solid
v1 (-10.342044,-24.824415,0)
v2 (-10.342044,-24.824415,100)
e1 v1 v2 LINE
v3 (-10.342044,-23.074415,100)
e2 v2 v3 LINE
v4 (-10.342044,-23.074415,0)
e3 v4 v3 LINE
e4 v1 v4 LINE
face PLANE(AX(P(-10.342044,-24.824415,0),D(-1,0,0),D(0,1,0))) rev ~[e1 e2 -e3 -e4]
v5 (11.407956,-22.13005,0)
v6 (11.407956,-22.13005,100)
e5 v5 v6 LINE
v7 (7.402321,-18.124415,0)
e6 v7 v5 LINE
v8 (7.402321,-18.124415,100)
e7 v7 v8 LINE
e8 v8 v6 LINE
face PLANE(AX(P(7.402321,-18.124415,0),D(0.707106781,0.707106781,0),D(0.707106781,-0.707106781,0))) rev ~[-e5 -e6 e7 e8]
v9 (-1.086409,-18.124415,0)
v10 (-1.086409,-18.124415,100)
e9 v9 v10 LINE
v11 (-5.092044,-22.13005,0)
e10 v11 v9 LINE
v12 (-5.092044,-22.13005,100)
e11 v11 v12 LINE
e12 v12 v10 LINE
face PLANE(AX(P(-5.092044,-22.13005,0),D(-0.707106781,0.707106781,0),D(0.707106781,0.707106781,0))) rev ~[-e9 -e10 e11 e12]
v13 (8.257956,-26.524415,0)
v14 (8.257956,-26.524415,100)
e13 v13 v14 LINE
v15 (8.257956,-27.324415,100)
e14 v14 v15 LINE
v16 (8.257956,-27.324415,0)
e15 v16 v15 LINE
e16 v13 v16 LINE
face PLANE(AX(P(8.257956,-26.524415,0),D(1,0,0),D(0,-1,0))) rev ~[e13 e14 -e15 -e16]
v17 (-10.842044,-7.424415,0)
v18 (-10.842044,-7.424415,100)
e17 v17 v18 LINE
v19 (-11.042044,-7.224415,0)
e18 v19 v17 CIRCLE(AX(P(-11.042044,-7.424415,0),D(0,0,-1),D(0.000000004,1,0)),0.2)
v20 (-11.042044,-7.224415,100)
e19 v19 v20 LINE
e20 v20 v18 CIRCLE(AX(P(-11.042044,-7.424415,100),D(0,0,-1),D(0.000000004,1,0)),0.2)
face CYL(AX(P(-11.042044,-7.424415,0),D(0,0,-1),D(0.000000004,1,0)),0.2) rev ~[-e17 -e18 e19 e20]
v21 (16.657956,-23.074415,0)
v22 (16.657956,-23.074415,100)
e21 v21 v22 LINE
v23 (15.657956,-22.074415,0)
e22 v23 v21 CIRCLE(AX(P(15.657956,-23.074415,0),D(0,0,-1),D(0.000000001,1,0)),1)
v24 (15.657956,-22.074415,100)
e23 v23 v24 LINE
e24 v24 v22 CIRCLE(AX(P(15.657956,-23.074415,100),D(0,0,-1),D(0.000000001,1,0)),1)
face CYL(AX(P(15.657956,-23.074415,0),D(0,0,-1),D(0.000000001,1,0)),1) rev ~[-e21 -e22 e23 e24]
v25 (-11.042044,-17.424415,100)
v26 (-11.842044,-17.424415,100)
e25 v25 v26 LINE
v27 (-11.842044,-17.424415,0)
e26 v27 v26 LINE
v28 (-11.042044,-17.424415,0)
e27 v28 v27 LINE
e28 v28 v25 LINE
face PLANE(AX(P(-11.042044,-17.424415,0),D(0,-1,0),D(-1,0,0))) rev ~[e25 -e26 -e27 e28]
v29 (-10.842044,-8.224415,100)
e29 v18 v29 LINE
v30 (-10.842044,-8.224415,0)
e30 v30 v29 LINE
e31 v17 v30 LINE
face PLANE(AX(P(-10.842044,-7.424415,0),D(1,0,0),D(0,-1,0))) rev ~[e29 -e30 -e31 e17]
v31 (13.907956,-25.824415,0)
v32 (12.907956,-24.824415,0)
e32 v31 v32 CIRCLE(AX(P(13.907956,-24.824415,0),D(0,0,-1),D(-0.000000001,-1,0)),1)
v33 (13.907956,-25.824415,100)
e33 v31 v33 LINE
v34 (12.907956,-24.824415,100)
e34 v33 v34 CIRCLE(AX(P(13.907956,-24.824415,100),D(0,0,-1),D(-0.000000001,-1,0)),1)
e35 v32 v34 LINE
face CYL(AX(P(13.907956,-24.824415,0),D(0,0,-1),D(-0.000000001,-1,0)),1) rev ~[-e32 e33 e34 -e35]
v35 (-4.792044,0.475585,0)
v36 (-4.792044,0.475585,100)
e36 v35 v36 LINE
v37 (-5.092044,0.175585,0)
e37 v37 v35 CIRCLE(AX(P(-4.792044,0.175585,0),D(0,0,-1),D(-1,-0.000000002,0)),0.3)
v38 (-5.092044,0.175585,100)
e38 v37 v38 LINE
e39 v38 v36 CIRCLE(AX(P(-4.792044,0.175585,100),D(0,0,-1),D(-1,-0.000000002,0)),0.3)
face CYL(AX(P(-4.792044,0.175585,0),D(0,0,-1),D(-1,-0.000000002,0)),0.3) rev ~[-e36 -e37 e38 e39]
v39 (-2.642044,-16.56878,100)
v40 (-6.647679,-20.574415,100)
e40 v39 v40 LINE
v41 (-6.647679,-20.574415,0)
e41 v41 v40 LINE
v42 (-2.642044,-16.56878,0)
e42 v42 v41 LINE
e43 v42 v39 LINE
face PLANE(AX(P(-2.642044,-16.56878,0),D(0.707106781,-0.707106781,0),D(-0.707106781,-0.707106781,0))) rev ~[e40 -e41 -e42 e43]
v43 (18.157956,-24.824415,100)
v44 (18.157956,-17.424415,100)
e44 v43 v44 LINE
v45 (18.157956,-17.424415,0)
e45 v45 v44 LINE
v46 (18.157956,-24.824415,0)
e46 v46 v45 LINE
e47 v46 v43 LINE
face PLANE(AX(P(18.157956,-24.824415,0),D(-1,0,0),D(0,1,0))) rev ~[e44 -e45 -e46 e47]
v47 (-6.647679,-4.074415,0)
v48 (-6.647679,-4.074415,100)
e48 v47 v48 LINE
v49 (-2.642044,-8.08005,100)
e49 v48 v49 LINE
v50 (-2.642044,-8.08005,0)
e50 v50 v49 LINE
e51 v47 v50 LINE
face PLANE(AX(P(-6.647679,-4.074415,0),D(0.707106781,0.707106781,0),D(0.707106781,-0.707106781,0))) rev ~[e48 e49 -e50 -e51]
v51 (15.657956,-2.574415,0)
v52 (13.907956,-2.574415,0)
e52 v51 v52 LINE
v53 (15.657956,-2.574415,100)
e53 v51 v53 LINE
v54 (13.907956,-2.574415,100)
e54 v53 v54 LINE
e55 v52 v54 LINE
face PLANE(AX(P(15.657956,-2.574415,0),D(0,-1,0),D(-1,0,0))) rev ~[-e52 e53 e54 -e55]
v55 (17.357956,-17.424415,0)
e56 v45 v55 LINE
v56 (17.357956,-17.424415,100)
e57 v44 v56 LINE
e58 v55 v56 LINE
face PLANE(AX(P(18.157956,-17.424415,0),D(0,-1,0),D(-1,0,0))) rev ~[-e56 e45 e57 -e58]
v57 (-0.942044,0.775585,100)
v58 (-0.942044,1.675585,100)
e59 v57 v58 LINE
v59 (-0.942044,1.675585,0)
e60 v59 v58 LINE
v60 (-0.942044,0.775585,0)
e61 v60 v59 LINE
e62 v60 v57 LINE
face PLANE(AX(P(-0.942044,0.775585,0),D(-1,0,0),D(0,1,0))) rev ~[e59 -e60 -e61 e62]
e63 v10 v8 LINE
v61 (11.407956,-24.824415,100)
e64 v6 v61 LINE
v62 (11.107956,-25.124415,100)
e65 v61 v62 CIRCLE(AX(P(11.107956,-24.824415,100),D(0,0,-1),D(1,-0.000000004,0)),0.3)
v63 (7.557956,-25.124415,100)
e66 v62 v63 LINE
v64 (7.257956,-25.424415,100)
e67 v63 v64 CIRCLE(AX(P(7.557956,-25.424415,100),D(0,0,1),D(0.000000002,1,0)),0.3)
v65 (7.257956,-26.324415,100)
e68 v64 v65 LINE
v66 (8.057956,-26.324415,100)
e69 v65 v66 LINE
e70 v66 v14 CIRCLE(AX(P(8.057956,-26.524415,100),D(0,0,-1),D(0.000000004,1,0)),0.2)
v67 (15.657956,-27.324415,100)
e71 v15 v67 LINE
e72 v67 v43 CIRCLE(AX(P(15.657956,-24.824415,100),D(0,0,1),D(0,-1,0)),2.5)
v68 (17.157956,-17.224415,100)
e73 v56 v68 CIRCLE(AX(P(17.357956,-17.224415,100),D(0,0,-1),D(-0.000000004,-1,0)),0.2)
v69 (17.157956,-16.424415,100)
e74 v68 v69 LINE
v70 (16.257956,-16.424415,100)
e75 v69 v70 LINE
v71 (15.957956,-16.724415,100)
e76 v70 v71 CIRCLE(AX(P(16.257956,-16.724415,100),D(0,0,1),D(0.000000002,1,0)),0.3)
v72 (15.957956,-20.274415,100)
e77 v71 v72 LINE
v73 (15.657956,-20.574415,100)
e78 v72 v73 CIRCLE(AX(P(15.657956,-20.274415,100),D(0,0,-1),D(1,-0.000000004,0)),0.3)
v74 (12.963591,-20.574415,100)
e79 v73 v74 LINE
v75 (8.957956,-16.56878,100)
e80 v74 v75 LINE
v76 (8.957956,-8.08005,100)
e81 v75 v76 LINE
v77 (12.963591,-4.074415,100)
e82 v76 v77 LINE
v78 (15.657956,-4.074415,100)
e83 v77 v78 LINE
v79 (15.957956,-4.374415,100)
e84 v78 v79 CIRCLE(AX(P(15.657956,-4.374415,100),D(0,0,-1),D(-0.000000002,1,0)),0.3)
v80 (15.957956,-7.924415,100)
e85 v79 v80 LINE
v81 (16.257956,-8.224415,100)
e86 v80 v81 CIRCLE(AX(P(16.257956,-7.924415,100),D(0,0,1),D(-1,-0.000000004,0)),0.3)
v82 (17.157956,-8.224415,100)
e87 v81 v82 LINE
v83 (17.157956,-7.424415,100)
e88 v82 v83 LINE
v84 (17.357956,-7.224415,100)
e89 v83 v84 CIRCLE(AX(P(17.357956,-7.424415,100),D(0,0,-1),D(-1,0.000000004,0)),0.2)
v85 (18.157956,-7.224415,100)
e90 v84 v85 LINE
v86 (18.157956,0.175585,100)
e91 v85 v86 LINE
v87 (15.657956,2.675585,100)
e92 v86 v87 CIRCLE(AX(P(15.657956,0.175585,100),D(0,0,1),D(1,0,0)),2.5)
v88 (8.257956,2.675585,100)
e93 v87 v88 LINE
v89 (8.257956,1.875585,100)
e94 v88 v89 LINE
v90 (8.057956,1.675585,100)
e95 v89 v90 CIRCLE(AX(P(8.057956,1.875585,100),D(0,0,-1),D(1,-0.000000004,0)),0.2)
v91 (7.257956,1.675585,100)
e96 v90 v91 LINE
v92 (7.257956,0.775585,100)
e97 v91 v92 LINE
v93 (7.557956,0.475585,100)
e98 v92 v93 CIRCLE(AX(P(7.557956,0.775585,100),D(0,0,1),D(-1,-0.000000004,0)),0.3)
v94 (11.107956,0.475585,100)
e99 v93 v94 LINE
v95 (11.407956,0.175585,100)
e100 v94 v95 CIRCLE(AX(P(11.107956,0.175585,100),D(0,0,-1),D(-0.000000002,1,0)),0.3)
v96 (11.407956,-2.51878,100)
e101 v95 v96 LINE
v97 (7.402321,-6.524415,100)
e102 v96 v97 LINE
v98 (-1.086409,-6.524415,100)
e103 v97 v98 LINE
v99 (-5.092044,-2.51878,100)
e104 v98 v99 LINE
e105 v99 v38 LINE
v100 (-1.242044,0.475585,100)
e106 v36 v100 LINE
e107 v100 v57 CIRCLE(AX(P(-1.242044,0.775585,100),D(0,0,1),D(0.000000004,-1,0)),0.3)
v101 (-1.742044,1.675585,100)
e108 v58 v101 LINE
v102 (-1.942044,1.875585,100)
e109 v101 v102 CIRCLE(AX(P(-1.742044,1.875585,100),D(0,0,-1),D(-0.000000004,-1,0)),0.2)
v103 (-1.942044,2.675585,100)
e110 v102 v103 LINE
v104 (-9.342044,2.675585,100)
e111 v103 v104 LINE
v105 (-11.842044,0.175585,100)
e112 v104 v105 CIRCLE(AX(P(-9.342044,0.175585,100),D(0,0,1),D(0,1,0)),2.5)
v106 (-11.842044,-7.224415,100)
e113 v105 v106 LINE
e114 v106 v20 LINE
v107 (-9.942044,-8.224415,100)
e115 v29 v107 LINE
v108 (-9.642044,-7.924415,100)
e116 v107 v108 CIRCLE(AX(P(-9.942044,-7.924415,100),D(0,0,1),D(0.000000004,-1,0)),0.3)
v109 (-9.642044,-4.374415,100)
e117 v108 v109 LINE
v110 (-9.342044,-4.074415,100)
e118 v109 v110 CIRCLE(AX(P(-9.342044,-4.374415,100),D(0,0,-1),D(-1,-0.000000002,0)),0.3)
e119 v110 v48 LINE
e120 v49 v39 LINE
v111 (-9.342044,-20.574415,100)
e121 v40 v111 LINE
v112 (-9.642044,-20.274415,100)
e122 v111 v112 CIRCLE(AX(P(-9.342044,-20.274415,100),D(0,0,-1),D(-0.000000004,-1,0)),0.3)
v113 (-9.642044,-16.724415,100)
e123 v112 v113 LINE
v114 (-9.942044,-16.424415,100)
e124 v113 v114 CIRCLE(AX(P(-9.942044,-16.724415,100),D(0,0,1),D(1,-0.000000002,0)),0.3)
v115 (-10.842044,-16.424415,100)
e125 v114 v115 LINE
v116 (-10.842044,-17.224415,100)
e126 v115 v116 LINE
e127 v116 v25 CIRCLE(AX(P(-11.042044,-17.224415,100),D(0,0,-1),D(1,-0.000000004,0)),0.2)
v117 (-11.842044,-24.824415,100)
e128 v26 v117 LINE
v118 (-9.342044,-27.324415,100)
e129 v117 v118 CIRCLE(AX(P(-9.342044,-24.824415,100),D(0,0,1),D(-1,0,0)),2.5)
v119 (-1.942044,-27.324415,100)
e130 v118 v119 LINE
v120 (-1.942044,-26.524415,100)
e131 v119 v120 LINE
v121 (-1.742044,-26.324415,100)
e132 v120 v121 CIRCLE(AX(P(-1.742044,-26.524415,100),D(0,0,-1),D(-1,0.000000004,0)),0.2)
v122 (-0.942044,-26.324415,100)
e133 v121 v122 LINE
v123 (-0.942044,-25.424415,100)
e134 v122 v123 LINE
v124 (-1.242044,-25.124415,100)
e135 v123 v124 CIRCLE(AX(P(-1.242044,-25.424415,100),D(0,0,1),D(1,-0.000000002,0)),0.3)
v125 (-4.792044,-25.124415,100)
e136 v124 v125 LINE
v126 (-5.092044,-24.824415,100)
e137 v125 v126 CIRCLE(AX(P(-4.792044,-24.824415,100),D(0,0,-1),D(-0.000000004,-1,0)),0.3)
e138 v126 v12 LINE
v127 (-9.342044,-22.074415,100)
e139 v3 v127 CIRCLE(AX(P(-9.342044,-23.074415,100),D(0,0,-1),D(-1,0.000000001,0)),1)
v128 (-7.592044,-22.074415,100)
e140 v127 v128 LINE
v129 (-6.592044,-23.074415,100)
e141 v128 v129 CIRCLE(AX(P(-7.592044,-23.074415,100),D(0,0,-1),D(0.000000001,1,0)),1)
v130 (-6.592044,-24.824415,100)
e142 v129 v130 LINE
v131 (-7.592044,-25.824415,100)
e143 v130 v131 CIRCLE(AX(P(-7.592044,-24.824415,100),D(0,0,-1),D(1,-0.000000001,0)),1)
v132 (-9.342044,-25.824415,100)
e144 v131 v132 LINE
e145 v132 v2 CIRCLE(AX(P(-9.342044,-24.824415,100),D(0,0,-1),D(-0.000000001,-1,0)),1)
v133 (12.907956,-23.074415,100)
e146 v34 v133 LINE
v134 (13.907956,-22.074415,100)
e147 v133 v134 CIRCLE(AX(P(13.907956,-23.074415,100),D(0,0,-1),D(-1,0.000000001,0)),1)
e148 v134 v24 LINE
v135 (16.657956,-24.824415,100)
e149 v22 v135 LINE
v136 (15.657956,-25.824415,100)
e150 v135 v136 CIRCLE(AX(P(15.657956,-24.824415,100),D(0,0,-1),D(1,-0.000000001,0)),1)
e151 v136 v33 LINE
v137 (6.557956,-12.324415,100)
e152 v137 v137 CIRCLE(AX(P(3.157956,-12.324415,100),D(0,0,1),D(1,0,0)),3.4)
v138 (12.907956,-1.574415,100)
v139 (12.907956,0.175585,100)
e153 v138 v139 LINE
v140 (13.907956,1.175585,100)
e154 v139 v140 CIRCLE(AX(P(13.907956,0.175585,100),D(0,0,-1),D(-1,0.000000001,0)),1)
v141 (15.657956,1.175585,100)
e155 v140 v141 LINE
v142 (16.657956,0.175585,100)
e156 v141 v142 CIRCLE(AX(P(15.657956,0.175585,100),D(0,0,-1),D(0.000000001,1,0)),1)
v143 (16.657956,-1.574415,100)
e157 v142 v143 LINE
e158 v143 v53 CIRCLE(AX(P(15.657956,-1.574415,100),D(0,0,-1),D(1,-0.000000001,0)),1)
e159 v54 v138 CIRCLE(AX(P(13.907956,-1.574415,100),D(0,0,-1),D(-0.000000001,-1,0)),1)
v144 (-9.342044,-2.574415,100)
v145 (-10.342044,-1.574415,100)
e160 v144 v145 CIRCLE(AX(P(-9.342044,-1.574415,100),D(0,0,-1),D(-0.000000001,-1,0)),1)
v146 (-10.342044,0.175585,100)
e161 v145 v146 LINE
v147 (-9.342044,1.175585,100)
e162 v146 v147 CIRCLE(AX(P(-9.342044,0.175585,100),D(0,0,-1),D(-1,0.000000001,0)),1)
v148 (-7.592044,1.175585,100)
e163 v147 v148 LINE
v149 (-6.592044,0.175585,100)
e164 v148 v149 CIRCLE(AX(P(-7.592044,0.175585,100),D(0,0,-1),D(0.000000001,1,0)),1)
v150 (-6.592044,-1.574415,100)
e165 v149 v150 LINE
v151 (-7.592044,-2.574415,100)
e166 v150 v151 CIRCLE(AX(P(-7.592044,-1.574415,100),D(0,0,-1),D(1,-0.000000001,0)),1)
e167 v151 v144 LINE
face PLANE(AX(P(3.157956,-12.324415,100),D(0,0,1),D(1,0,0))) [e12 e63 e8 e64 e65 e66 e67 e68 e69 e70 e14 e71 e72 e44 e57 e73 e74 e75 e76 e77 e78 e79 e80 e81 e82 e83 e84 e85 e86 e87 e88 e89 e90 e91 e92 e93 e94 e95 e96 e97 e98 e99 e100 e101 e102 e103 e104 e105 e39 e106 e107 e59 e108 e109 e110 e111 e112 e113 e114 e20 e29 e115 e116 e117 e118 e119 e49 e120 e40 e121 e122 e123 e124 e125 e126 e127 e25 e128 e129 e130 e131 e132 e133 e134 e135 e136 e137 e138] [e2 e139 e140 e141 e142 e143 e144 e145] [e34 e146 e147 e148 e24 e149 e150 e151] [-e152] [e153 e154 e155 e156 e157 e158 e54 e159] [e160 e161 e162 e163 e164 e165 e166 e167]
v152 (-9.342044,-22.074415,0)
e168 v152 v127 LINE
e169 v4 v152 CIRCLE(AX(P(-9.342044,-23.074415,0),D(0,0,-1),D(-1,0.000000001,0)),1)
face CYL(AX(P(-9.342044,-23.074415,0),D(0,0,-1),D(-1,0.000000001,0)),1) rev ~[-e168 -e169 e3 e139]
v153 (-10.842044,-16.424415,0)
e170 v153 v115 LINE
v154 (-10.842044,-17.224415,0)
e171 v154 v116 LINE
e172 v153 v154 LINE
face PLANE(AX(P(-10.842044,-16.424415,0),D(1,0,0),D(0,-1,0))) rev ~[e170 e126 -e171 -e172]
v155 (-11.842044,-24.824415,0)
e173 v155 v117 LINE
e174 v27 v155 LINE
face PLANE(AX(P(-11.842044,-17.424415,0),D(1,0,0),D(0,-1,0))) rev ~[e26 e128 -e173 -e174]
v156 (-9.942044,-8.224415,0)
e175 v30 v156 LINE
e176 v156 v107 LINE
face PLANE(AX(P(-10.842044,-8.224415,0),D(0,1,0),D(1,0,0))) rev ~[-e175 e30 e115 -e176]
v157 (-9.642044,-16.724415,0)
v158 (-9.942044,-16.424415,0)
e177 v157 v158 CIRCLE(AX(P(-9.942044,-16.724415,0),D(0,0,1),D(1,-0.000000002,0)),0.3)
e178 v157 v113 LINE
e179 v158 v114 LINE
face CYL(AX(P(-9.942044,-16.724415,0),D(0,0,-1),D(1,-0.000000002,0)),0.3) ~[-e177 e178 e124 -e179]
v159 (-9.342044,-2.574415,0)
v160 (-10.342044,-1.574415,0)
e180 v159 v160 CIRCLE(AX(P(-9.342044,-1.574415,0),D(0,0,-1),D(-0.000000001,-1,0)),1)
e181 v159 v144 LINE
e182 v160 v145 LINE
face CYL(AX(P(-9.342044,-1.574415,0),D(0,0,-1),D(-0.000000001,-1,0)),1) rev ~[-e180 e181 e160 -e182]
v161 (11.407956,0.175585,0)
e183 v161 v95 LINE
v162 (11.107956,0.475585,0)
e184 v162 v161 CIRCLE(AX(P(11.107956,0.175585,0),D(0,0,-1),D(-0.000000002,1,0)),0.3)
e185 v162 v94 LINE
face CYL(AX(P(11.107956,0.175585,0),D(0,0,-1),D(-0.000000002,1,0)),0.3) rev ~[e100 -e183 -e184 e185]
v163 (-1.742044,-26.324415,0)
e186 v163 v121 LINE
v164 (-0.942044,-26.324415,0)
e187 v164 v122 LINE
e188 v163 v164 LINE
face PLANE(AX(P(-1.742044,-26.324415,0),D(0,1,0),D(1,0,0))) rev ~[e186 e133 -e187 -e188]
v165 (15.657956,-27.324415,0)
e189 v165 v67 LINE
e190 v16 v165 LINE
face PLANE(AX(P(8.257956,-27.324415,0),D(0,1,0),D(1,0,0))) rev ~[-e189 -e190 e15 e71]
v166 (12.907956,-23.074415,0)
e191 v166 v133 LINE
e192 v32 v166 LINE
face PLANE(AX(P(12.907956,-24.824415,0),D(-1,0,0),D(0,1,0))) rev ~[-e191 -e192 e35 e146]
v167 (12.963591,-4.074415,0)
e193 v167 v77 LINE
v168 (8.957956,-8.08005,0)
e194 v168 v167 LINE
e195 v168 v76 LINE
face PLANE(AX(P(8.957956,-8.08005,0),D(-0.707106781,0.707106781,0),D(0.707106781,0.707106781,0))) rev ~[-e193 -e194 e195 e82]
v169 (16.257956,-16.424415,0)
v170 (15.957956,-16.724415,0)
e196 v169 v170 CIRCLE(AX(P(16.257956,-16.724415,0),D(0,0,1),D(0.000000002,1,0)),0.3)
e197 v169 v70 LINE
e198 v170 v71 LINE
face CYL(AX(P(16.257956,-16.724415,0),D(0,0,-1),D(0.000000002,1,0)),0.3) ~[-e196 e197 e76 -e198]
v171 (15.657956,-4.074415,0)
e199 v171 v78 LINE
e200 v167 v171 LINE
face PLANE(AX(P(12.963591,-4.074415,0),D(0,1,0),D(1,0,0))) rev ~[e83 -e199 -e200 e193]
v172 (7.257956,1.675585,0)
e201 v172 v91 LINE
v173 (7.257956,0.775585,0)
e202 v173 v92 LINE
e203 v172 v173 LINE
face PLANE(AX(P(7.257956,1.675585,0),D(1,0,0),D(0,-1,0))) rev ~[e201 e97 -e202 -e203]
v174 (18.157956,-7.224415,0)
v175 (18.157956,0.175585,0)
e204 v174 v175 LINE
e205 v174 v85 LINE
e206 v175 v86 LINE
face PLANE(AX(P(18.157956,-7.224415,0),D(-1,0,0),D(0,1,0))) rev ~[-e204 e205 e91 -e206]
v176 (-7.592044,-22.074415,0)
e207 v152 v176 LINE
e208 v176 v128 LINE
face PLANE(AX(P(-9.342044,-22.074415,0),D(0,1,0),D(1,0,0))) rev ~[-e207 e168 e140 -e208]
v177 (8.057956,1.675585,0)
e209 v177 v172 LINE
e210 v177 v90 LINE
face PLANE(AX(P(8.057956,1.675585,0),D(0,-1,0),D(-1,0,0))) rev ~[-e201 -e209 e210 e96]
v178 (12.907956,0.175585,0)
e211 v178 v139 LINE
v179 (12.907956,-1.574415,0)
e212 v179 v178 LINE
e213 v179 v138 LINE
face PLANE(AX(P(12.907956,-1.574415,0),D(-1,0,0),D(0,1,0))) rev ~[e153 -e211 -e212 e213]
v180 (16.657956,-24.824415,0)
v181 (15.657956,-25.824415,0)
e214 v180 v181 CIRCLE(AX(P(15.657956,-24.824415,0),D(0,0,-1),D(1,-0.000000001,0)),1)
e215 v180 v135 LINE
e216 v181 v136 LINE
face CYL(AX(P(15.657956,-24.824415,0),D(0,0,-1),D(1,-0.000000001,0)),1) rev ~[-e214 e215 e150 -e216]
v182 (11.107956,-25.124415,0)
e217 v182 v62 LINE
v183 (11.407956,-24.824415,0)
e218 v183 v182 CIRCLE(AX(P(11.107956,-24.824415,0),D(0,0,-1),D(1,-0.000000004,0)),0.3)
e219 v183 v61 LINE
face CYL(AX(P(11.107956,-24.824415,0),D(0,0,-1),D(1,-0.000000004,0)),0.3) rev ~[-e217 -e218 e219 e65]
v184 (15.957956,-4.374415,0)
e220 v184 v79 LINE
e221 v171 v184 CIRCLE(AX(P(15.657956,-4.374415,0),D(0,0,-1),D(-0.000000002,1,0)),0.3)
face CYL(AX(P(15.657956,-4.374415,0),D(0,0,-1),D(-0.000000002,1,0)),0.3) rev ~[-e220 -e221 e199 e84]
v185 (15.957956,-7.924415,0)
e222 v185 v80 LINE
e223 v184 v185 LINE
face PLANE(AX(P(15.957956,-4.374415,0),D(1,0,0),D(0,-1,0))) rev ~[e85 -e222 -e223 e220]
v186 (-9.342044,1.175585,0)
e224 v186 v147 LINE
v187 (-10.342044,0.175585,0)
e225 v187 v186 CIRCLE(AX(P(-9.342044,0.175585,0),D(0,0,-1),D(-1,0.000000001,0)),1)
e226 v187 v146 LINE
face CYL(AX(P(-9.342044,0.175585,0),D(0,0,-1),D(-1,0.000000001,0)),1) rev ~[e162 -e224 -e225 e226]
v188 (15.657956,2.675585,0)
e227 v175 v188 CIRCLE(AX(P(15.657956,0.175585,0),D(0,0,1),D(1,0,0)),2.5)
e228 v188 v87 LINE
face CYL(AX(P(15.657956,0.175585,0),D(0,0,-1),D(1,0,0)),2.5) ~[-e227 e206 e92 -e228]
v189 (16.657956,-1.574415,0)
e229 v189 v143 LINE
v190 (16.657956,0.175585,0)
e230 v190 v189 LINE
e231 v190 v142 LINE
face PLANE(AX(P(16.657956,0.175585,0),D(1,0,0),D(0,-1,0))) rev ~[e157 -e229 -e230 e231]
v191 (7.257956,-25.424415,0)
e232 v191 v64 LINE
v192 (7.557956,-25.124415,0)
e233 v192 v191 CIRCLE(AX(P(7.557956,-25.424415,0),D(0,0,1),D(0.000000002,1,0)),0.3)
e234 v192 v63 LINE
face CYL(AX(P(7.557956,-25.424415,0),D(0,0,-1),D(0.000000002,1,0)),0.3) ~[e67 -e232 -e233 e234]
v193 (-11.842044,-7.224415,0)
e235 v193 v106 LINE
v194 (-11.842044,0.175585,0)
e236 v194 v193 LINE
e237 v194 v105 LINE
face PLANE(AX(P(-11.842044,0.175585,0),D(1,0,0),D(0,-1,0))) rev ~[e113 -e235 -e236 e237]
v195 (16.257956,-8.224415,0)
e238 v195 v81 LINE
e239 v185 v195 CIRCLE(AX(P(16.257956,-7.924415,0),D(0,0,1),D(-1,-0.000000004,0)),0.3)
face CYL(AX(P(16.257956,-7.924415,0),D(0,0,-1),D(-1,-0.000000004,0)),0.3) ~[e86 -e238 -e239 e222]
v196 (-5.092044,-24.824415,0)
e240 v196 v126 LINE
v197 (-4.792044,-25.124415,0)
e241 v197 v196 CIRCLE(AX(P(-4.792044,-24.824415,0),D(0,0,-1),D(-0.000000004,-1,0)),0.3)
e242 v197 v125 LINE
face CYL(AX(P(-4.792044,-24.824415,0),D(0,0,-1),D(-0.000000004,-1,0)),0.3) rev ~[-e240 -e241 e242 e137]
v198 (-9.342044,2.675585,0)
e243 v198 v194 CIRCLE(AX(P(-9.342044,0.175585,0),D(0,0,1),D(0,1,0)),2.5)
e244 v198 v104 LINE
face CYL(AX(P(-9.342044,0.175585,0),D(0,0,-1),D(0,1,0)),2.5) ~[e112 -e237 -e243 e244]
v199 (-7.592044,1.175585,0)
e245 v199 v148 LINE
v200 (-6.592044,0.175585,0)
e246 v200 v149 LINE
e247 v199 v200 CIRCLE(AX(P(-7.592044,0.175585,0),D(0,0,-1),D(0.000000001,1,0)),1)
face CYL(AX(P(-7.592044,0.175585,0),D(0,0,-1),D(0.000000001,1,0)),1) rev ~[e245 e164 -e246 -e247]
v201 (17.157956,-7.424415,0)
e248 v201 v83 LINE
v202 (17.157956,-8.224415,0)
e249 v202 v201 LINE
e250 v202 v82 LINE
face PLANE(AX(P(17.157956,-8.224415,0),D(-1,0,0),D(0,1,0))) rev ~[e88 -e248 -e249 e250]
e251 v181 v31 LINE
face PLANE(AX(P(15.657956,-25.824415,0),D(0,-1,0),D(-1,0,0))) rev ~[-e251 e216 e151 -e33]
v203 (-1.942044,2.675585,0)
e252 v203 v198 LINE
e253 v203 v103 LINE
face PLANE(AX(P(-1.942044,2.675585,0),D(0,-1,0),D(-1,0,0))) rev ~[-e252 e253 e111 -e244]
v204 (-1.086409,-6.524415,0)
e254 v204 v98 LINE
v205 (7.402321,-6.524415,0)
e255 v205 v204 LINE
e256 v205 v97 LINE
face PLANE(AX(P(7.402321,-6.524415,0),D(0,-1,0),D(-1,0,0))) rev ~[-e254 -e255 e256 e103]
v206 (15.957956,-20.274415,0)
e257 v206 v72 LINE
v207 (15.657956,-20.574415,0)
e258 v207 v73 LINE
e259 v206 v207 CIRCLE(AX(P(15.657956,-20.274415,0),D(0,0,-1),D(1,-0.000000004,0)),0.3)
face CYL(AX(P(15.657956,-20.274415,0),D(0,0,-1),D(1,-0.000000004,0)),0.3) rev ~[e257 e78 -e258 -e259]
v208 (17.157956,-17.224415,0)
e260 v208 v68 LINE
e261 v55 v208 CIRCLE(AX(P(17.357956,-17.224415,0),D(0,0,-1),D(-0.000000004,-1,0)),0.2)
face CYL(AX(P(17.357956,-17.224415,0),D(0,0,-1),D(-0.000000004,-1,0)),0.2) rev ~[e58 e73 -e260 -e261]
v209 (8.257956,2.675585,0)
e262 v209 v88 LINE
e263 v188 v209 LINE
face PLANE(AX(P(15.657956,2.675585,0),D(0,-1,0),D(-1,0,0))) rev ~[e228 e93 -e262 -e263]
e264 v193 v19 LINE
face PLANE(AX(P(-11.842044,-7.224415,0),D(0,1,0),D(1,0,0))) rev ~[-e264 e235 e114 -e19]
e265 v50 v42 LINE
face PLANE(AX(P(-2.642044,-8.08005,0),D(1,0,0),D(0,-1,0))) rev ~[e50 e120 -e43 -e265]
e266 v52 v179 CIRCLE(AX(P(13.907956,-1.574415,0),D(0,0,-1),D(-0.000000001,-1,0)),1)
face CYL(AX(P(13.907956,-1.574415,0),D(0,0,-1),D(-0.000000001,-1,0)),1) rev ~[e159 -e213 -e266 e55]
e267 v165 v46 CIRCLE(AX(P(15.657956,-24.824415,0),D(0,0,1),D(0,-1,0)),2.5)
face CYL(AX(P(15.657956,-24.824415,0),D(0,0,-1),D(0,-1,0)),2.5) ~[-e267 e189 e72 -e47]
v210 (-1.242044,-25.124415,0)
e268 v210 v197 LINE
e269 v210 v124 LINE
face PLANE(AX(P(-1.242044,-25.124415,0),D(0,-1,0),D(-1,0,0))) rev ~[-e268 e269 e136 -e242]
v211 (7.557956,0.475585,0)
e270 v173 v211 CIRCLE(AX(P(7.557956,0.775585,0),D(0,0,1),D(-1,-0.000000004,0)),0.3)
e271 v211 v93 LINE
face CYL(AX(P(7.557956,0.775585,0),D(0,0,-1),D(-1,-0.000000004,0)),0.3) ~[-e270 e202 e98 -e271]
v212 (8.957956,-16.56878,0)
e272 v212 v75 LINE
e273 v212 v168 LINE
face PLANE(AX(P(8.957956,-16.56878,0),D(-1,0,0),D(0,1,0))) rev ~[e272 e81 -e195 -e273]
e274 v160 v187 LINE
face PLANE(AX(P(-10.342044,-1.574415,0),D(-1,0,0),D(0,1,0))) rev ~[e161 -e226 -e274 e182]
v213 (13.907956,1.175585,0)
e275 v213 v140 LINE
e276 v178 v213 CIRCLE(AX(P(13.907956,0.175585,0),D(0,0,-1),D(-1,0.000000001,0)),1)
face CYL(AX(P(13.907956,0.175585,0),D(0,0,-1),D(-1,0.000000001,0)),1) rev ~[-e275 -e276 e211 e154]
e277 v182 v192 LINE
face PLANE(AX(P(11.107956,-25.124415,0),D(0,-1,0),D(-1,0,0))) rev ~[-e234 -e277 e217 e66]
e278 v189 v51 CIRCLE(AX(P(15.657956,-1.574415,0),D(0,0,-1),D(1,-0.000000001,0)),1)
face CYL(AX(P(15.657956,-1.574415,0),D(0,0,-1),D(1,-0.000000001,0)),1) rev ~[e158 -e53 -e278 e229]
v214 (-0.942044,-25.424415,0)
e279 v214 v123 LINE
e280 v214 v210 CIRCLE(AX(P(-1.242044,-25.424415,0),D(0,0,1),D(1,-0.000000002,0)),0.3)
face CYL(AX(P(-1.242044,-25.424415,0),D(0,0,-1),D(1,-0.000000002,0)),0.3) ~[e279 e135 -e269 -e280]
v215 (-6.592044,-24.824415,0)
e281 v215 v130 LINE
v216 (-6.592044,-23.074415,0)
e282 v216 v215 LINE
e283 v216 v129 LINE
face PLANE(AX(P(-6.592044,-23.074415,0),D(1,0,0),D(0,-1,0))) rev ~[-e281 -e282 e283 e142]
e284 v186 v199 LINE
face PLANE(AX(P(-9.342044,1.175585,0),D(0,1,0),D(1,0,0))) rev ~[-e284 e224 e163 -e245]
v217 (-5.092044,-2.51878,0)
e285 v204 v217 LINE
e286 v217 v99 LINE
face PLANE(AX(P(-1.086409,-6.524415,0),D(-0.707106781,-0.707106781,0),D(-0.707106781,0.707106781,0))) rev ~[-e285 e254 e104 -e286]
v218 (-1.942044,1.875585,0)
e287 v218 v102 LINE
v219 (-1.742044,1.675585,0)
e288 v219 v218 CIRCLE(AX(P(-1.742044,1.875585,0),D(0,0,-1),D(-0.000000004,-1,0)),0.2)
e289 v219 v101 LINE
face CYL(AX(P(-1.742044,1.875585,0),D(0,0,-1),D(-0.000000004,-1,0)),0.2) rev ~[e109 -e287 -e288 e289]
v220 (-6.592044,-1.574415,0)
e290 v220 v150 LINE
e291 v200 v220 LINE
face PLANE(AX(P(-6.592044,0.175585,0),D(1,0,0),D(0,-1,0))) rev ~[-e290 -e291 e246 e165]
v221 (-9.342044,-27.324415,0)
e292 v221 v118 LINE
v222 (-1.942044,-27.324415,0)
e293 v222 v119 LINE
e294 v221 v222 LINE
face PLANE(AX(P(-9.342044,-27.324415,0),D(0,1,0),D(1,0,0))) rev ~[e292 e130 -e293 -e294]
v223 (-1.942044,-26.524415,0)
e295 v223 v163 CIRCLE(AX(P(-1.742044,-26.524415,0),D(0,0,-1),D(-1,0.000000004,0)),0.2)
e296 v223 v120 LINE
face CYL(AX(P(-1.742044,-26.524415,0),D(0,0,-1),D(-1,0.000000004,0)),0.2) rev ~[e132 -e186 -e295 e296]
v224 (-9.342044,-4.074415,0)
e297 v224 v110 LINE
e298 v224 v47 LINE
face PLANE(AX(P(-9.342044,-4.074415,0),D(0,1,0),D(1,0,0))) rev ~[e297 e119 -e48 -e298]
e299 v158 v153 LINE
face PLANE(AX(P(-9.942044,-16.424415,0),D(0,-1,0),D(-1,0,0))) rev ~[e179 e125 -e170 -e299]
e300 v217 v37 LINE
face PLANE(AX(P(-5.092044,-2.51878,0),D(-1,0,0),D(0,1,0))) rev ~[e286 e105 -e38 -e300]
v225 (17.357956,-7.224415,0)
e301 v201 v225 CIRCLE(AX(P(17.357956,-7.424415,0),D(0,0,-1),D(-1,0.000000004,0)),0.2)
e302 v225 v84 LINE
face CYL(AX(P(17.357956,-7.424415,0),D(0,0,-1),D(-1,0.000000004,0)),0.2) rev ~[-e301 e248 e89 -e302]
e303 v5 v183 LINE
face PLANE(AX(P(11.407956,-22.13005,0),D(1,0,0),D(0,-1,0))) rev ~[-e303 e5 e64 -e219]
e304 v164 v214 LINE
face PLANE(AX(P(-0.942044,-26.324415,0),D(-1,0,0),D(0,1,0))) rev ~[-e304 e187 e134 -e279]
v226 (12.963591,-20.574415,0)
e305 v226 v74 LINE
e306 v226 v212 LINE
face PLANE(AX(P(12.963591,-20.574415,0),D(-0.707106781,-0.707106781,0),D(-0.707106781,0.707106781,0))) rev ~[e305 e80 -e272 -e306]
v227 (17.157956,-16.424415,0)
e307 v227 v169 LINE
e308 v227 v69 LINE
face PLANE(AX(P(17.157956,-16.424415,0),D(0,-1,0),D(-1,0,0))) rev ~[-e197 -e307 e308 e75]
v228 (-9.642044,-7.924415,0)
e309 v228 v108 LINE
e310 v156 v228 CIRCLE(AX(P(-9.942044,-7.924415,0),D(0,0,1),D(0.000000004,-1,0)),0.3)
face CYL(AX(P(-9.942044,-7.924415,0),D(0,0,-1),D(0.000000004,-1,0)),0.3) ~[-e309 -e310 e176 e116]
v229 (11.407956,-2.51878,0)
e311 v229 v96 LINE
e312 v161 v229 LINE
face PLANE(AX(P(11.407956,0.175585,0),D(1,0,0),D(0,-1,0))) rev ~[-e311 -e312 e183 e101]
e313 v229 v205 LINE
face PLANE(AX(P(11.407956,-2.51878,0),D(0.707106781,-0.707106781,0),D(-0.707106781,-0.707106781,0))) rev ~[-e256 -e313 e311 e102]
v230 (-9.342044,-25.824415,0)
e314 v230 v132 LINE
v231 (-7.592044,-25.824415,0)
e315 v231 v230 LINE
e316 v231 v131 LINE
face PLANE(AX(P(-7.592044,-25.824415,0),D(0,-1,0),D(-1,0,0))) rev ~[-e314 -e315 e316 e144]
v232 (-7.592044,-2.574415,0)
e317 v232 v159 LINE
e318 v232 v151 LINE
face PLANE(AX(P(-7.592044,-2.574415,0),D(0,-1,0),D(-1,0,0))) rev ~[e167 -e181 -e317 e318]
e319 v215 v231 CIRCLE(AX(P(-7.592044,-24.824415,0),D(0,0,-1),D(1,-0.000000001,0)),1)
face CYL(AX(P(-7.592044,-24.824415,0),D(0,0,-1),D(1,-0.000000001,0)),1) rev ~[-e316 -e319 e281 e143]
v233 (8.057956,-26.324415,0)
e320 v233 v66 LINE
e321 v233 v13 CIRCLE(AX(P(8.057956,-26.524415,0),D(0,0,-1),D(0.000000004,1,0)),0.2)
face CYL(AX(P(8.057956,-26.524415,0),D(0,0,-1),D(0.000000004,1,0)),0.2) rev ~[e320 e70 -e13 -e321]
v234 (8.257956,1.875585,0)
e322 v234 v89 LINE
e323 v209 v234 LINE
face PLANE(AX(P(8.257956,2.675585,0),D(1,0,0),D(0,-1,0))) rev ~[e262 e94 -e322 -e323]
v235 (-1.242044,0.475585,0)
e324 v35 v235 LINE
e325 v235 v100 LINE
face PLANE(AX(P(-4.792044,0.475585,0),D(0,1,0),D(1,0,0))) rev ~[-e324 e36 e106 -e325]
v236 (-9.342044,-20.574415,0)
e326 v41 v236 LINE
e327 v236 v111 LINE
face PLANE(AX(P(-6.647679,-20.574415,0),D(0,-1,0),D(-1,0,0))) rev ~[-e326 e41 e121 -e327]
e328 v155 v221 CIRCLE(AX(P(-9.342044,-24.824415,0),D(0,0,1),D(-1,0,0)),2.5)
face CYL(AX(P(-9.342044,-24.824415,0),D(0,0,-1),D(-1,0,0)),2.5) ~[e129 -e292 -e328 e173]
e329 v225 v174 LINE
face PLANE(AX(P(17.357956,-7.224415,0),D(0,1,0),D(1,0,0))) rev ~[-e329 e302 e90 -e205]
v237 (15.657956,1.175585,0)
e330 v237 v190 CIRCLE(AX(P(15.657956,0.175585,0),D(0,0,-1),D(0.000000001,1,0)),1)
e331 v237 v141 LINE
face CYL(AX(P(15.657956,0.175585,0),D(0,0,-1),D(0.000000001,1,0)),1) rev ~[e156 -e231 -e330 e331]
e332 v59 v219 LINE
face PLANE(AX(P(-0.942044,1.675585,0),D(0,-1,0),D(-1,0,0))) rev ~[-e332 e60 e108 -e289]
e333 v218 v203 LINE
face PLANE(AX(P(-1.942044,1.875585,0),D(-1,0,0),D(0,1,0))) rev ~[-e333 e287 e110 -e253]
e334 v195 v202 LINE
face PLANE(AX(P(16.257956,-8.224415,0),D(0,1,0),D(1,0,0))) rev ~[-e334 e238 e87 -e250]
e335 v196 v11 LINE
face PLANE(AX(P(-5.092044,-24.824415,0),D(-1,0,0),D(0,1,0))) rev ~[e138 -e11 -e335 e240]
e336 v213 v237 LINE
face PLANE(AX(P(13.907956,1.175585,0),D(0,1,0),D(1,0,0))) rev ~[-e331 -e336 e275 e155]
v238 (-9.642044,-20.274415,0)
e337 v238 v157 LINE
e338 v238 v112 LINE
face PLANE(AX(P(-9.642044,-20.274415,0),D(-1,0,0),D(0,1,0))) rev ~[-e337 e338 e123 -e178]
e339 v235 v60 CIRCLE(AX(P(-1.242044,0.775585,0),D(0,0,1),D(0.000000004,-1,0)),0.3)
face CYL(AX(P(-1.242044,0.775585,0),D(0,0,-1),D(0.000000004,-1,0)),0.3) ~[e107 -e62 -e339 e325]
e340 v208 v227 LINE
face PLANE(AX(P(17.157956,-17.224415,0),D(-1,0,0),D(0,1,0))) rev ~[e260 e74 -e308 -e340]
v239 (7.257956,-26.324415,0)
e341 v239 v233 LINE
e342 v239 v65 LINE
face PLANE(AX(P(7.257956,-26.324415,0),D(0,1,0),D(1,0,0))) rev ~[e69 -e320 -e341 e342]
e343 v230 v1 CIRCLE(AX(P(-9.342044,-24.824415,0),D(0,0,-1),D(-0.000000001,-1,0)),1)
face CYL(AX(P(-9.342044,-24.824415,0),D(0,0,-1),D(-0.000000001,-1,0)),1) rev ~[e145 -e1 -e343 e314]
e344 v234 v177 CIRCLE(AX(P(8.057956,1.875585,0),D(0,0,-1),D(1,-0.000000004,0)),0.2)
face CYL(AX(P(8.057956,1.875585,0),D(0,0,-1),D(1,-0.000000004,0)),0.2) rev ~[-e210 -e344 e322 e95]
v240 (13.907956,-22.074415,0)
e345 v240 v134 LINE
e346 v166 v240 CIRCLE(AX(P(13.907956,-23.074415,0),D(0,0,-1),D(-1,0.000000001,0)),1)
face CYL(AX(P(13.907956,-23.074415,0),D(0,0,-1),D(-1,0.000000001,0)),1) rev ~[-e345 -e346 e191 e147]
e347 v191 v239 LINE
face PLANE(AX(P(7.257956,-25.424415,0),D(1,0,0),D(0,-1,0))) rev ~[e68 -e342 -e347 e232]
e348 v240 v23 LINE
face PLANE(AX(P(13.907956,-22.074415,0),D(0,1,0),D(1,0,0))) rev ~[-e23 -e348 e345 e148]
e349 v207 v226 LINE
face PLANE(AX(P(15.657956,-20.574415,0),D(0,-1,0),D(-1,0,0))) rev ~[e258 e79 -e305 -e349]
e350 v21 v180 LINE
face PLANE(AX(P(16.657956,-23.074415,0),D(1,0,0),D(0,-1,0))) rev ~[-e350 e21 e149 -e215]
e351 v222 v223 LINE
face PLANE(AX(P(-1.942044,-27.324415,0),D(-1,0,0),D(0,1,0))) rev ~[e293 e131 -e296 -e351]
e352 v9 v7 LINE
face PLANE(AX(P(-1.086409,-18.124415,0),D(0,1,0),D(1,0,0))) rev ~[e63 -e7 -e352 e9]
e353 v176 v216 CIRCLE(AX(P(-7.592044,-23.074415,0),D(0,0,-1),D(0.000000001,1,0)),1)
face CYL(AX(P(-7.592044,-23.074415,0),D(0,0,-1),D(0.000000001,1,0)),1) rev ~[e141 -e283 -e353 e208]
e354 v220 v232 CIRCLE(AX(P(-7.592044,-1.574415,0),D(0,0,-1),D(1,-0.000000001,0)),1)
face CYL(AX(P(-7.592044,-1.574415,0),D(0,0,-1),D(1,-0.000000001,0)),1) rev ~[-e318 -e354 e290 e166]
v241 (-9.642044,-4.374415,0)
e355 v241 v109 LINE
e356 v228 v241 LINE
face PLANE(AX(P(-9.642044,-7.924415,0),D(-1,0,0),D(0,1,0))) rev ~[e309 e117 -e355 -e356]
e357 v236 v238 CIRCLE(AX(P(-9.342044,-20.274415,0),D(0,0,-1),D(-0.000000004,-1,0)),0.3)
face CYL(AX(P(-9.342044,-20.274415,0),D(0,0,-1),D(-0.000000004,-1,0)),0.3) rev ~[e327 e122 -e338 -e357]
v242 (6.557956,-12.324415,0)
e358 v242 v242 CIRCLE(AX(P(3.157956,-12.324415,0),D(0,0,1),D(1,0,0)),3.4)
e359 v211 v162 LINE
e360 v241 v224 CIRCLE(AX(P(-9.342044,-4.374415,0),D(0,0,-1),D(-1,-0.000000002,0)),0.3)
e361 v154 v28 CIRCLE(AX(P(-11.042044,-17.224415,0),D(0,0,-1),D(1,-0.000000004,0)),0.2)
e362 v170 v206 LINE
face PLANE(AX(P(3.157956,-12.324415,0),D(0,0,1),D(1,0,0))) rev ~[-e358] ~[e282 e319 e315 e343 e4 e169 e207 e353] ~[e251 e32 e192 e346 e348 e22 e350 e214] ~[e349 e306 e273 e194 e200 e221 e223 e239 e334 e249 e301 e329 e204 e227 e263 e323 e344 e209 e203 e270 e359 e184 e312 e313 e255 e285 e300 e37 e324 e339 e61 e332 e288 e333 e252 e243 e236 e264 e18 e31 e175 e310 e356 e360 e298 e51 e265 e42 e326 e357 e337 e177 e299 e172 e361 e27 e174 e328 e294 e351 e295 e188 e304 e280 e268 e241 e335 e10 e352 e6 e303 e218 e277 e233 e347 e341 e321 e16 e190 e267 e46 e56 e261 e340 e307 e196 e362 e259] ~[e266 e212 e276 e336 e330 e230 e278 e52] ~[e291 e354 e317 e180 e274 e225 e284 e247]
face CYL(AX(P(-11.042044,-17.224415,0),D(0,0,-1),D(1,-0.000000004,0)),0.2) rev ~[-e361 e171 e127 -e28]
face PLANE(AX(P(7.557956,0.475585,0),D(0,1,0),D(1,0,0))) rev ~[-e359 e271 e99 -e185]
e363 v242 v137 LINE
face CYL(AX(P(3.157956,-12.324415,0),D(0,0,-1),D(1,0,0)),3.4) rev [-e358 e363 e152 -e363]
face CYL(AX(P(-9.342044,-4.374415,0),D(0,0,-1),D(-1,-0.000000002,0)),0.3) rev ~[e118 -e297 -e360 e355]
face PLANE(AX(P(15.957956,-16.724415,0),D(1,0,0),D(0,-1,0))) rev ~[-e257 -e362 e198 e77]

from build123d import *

# Parameters (mm, degrees)
SKETCH_1_R      = 3.4
EXTRUDE_1_DEPTH = 100


with BuildPart() as part:
    # 草图1 → 凸台-拉伸1 (new body)
    with BuildSketch(Plane.XY):
        with BuildLine():
            Line((8.957955872, -8.080050324), (12.963590791, -4.074415406))
            Line((12.963590791, -4.074415406), (15.657955872, -4.074415406))
            ThreePointArc((15.657955872, -4.074415406), (15.870087906, -4.162283371), (15.957955872, -4.374415406))
            Line((15.957955872, -4.374415406), (15.957955872, -7.924415406))
            ThreePointArc((15.957955872, -7.924415406), (16.045823838, -8.13654744), (16.257955872, -8.224415406))
            Line((16.257955872, -8.224415406), (17.157955872, -8.224415406))
            Line((17.157955872, -8.224415406), (17.157955872, -7.424415406))
            ThreePointArc((17.157955872, -7.424415406), (17.216534516, -7.28299405), (17.357955872, -7.224415406))
            Line((17.357955872, -7.224415406), (18.157955872, -7.224415406))
            Line((18.157955872, -7.224415406), (18.157955872, 0.175584594))
            ThreePointArc((18.157955872, 0.175584594), (17.425722825, 1.943351547), (15.657955872, 2.675584594))
            Line((15.657955872, 2.675584594), (8.257955872, 2.675584594))
            Line((8.257955872, 2.675584594), (8.257955872, 1.875584594))
            ThreePointArc((8.257955872, 1.875584594), (8.199377228, 1.734163238), (8.057955872, 1.675584594))
            Line((8.057955872, 1.675584594), (7.257955872, 1.675584594))
            Line((7.257955872, 1.675584594), (7.257955872, 0.775584594))
            ThreePointArc((7.257955872, 0.775584594), (7.345823838, 0.56345256), (7.557955872, 0.475584594))
            Line((7.557955872, 0.475584594), (11.107955872, 0.475584594))
            ThreePointArc((11.107955872, 0.475584594), (11.320087906, 0.387716629), (11.407955872, 0.175584594))
            Line((11.407955872, 0.175584594), (11.407955872, -2.518780487))
            Line((11.407955872, -2.518780487), (7.402320953, -6.524415406))
            Line((7.402320953, -6.524415406), (-1.086409209, -6.524415406))
            Line((-1.086409209, -6.524415406), (-5.092044128, -2.518780487))
            Line((-5.092044128, -2.518780487), (-5.092044128, 0.175584594))
            ThreePointArc((-5.092044128, 0.175584594), (-5.004176162, 0.387716629), (-4.792044128, 0.475584594))
            Line((-4.792044128, 0.475584594), (-1.242044128, 0.475584594))
            ThreePointArc((-1.242044128, 0.475584594), (-1.029912094, 0.56345256), (-0.942044128, 0.775584594))
            Line((-0.942044128, 0.775584594), (-0.942044128, 1.675584594))
            Line((-0.942044128, 1.675584594), (-1.742044128, 1.675584594))
            ThreePointArc((-1.742044128, 1.675584594), (-1.883465484, 1.734163238), (-1.942044128, 1.875584594))
            Line((-1.942044128, 1.875584594), (-1.942044128, 2.675584594))
            Line((-1.942044128, 2.675584594), (-9.342044128, 2.675584594))
            ThreePointArc((-9.342044128, 2.675584594), (-11.109811081, 1.943351547), (-11.842044128, 0.175584594))
            Line((-11.842044128, 0.175584594), (-11.842044128, -7.224415406))
            Line((-11.842044128, -7.224415406), (-11.042044128, -7.224415406))
            ThreePointArc((-11.042044128, -7.224415406), (-10.900622772, -7.28299405), (-10.842044128, -7.424415406))
            Line((-10.842044128, -7.424415406), (-10.842044128, -8.224415406))
            Line((-10.842044128, -8.224415406), (-9.942044128, -8.224415406))
            ThreePointArc((-9.942044128, -8.224415406), (-9.729912094, -8.13654744), (-9.642044128, -7.924415406))
            Line((-9.642044128, -7.924415406), (-9.642044128, -4.374415406))
            ThreePointArc((-9.642044128, -4.374415406), (-9.554176162, -4.162283371), (-9.342044128, -4.074415406))
            Line((-9.342044128, -4.074415406), (-6.647679047, -4.074415406))
            Line((-6.647679047, -4.074415406), (-2.642044128, -8.080050324))
            Line((-2.642044128, -8.080050324), (-2.642044128, -16.568780487))
            Line((-2.642044128, -16.568780487), (-6.647679047, -20.574415406))
            Line((-6.647679047, -20.574415406), (-9.342044128, -20.574415406))
            ThreePointArc((-9.342044128, -20.574415406), (-9.554176162, -20.48654744), (-9.642044128, -20.274415406))
            Line((-9.642044128, -20.274415406), (-9.642044128, -16.724415406))
            ThreePointArc((-9.642044128, -16.724415406), (-9.729912094, -16.512283371), (-9.942044128, -16.424415406))
            Line((-9.942044128, -16.424415406), (-10.842044128, -16.424415406))
            Line((-10.842044128, -16.424415406), (-10.842044128, -17.224415406))
            ThreePointArc((-10.842044128, -17.224415406), (-10.900622772, -17.365836762), (-11.042044128, -17.424415406))
            Line((-11.042044128, -17.424415406), (-11.842044128, -17.424415406))
            Line((-11.842044128, -17.424415406), (-11.842044128, -24.824415406))
            ThreePointArc((-11.842044128, -24.824415406), (-11.109811081, -26.592182359), (-9.342044128, -27.324415406))
            Line((-9.342044128, -27.324415406), (-1.942044128, -27.324415406))
            Line((-1.942044128, -27.324415406), (-1.942044128, -26.524415406))
            ThreePointArc((-1.942044128, -26.524415406), (-1.883465484, -26.38299405), (-1.742044128, -26.324415406))
            Line((-1.742044128, -26.324415406), (-0.942044128, -26.324415406))
            Line((-0.942044128, -26.324415406), (-0.942044128, -25.424415406))
            ThreePointArc((-0.942044128, -25.424415406), (-1.029912094, -25.212283371), (-1.242044128, -25.124415406))
            Line((-1.242044128, -25.124415406), (-4.792044128, -25.124415406))
            ThreePointArc((-4.792044128, -25.124415406), (-5.004176162, -25.03654744), (-5.092044128, -24.824415406))
            Line((-5.092044128, -24.824415406), (-5.092044128, -22.130050324))
            Line((-5.092044128, -22.130050324), (-1.086409209, -18.124415406))
            Line((-1.086409209, -18.124415406), (7.402320953, -18.124415406))
            Line((7.402320953, -18.124415406), (11.407955872, -22.130050324))
            Line((11.407955872, -22.130050324), (11.407955872, -24.824415406))
            ThreePointArc((11.407955872, -24.824415406), (11.320087906, -25.03654744), (11.107955872, -25.124415406))
            Line((11.107955872, -25.124415406), (7.557955872, -25.124415406))
            ThreePointArc((7.557955872, -25.124415406), (7.345823838, -25.212283371), (7.257955872, -25.424415406))
            Line((7.257955872, -25.424415406), (7.257955872, -26.324415406))
            Line((7.257955872, -26.324415406), (8.057955872, -26.324415406))
            ThreePointArc((8.057955872, -26.324415406), (8.199377228, -26.38299405), (8.257955872, -26.524415406))
            Line((8.257955872, -26.524415406), (8.257955872, -27.324415406))
            Line((8.257955872, -27.324415406), (15.657955872, -27.324415406))
            ThreePointArc((15.657955872, -27.324415406), (17.425722825, -26.592182359), (18.157955872, -24.824415406))
            Line((18.157955872, -24.824415406), (18.157955872, -17.424415406))
            Line((18.157955872, -17.424415406), (17.357955872, -17.424415406))
            ThreePointArc((17.357955872, -17.424415406), (17.216534516, -17.365836762), (17.157955872, -17.224415406))
            Line((17.157955872, -17.224415406), (17.157955872, -16.424415406))
            Line((17.157955872, -16.424415406), (16.257955872, -16.424415406))
            ThreePointArc((16.257955872, -16.424415406), (16.045823838, -16.512283371), (15.957955872, -16.724415406))
            Line((15.957955872, -16.724415406), (15.957955872, -20.274415406))
            ThreePointArc((15.957955872, -20.274415406), (15.870087906, -20.48654744), (15.657955872, -20.574415406))
            Line((15.657955872, -20.574415406), (12.963590791, -20.574415406))
            Line((12.963590791, -20.574415406), (8.957955872, -16.568780487))
            Line((8.957955872, -16.568780487), (8.957955872, -8.080050324))
        make_face()
        with Locations((3.157955872, -12.324415406)):
            Circle(SKETCH_1_R, mode=Mode.SUBTRACT)
        with BuildLine():
            Line((13.907955872, -22.074415406), (15.657955872, -22.074415406))
            ThreePointArc((15.657955872, -22.074415406), (16.365062653, -22.367308625), (16.657955872, -23.074415406))
            Line((16.657955872, -23.074415406), (16.657955872, -24.824415406))
            ThreePointArc((16.657955872, -24.824415406), (16.365062653, -25.531522187), (15.657955872, -25.824415406))
            Line((15.657955872, -25.824415406), (13.907955872, -25.824415406))
            ThreePointArc((13.907955872, -25.824415406), (13.200849091, -25.531522187), (12.907955872, -24.824415406))
            Line((12.907955872, -24.824415406), (12.907955872, -23.074415406))
            ThreePointArc((12.907955872, -23.074415406), (13.200849091, -22.367308625), (13.907955872, -22.074415406))
        make_face(mode=Mode.SUBTRACT)
        with BuildLine():
            Line((12.907955872, -1.574415406), (12.907955872, 0.175584594))
            ThreePointArc((12.907955872, 0.175584594), (13.200849091, 0.882691375), (13.907955872, 1.175584594))
            Line((13.907955872, 1.175584594), (15.657955872, 1.175584594))
            ThreePointArc((15.657955872, 1.175584594), (16.365062653, 0.882691375), (16.657955872, 0.175584594))
            Line((16.657955872, 0.175584594), (16.657955872, -1.574415406))
            ThreePointArc((16.657955872, -1.574415406), (16.365062653, -2.281522187), (15.657955872, -2.574415406))
            Line((15.657955872, -2.574415406), (13.907955872, -2.574415406))
            ThreePointArc((13.907955872, -2.574415406), (13.200849091, -2.281522187), (12.907955872, -1.574415406))
        make_face(mode=Mode.SUBTRACT)
        with BuildLine():
            Line((-6.592044128, -23.074415406), (-6.592044128, -24.824415406))
            ThreePointArc((-6.592044128, -24.824415406), (-6.884937347, -25.531522187), (-7.592044128, -25.824415406))
            Line((-7.592044128, -25.824415406), (-9.342044128, -25.824415406))
            ThreePointArc((-9.342044128, -25.824415406), (-10.049150909, -25.531522187), (-10.342044128, -24.824415406))
            Line((-10.342044128, -24.824415406), (-10.342044128, -23.074415406))
            ThreePointArc((-10.342044128, -23.074415406), (-10.049150909, -22.367308625), (-9.342044128, -22.074415406))
            Line((-9.342044128, -22.074415406), (-7.592044128, -22.074415406))
            ThreePointArc((-7.592044128, -22.074415406), (-6.884937347, -22.367308625), (-6.592044128, -23.074415406))
        make_face(mode=Mode.SUBTRACT)
        with BuildLine():
            Line((-7.592044128, -2.574415406), (-9.342044128, -2.574415406))
            ThreePointArc((-9.342044128, -2.574415406), (-10.049150909, -2.281522187), (-10.342044128, -1.574415406))
            Line((-10.342044128, -1.574415406), (-10.342044128, 0.175584594))
            ThreePointArc((-10.342044128, 0.175584594), (-10.049150909, 0.882691375), (-9.342044128, 1.175584594))
            Line((-9.342044128, 1.175584594), (-7.592044128, 1.175584594))
            ThreePointArc((-7.592044128, 1.175584594), (-6.884937347, 0.882691375), (-6.592044128, 0.175584594))
            Line((-6.592044128, 0.175584594), (-6.592044128, -1.574415406))
            ThreePointArc((-6.592044128, -1.574415406), (-6.884937347, -2.281522187), (-7.592044128, -2.574415406))
        make_face(mode=Mode.SUBTRACT)
    extrude(amount=EXTRUDE_1_DEPTH)


solid = part.part
